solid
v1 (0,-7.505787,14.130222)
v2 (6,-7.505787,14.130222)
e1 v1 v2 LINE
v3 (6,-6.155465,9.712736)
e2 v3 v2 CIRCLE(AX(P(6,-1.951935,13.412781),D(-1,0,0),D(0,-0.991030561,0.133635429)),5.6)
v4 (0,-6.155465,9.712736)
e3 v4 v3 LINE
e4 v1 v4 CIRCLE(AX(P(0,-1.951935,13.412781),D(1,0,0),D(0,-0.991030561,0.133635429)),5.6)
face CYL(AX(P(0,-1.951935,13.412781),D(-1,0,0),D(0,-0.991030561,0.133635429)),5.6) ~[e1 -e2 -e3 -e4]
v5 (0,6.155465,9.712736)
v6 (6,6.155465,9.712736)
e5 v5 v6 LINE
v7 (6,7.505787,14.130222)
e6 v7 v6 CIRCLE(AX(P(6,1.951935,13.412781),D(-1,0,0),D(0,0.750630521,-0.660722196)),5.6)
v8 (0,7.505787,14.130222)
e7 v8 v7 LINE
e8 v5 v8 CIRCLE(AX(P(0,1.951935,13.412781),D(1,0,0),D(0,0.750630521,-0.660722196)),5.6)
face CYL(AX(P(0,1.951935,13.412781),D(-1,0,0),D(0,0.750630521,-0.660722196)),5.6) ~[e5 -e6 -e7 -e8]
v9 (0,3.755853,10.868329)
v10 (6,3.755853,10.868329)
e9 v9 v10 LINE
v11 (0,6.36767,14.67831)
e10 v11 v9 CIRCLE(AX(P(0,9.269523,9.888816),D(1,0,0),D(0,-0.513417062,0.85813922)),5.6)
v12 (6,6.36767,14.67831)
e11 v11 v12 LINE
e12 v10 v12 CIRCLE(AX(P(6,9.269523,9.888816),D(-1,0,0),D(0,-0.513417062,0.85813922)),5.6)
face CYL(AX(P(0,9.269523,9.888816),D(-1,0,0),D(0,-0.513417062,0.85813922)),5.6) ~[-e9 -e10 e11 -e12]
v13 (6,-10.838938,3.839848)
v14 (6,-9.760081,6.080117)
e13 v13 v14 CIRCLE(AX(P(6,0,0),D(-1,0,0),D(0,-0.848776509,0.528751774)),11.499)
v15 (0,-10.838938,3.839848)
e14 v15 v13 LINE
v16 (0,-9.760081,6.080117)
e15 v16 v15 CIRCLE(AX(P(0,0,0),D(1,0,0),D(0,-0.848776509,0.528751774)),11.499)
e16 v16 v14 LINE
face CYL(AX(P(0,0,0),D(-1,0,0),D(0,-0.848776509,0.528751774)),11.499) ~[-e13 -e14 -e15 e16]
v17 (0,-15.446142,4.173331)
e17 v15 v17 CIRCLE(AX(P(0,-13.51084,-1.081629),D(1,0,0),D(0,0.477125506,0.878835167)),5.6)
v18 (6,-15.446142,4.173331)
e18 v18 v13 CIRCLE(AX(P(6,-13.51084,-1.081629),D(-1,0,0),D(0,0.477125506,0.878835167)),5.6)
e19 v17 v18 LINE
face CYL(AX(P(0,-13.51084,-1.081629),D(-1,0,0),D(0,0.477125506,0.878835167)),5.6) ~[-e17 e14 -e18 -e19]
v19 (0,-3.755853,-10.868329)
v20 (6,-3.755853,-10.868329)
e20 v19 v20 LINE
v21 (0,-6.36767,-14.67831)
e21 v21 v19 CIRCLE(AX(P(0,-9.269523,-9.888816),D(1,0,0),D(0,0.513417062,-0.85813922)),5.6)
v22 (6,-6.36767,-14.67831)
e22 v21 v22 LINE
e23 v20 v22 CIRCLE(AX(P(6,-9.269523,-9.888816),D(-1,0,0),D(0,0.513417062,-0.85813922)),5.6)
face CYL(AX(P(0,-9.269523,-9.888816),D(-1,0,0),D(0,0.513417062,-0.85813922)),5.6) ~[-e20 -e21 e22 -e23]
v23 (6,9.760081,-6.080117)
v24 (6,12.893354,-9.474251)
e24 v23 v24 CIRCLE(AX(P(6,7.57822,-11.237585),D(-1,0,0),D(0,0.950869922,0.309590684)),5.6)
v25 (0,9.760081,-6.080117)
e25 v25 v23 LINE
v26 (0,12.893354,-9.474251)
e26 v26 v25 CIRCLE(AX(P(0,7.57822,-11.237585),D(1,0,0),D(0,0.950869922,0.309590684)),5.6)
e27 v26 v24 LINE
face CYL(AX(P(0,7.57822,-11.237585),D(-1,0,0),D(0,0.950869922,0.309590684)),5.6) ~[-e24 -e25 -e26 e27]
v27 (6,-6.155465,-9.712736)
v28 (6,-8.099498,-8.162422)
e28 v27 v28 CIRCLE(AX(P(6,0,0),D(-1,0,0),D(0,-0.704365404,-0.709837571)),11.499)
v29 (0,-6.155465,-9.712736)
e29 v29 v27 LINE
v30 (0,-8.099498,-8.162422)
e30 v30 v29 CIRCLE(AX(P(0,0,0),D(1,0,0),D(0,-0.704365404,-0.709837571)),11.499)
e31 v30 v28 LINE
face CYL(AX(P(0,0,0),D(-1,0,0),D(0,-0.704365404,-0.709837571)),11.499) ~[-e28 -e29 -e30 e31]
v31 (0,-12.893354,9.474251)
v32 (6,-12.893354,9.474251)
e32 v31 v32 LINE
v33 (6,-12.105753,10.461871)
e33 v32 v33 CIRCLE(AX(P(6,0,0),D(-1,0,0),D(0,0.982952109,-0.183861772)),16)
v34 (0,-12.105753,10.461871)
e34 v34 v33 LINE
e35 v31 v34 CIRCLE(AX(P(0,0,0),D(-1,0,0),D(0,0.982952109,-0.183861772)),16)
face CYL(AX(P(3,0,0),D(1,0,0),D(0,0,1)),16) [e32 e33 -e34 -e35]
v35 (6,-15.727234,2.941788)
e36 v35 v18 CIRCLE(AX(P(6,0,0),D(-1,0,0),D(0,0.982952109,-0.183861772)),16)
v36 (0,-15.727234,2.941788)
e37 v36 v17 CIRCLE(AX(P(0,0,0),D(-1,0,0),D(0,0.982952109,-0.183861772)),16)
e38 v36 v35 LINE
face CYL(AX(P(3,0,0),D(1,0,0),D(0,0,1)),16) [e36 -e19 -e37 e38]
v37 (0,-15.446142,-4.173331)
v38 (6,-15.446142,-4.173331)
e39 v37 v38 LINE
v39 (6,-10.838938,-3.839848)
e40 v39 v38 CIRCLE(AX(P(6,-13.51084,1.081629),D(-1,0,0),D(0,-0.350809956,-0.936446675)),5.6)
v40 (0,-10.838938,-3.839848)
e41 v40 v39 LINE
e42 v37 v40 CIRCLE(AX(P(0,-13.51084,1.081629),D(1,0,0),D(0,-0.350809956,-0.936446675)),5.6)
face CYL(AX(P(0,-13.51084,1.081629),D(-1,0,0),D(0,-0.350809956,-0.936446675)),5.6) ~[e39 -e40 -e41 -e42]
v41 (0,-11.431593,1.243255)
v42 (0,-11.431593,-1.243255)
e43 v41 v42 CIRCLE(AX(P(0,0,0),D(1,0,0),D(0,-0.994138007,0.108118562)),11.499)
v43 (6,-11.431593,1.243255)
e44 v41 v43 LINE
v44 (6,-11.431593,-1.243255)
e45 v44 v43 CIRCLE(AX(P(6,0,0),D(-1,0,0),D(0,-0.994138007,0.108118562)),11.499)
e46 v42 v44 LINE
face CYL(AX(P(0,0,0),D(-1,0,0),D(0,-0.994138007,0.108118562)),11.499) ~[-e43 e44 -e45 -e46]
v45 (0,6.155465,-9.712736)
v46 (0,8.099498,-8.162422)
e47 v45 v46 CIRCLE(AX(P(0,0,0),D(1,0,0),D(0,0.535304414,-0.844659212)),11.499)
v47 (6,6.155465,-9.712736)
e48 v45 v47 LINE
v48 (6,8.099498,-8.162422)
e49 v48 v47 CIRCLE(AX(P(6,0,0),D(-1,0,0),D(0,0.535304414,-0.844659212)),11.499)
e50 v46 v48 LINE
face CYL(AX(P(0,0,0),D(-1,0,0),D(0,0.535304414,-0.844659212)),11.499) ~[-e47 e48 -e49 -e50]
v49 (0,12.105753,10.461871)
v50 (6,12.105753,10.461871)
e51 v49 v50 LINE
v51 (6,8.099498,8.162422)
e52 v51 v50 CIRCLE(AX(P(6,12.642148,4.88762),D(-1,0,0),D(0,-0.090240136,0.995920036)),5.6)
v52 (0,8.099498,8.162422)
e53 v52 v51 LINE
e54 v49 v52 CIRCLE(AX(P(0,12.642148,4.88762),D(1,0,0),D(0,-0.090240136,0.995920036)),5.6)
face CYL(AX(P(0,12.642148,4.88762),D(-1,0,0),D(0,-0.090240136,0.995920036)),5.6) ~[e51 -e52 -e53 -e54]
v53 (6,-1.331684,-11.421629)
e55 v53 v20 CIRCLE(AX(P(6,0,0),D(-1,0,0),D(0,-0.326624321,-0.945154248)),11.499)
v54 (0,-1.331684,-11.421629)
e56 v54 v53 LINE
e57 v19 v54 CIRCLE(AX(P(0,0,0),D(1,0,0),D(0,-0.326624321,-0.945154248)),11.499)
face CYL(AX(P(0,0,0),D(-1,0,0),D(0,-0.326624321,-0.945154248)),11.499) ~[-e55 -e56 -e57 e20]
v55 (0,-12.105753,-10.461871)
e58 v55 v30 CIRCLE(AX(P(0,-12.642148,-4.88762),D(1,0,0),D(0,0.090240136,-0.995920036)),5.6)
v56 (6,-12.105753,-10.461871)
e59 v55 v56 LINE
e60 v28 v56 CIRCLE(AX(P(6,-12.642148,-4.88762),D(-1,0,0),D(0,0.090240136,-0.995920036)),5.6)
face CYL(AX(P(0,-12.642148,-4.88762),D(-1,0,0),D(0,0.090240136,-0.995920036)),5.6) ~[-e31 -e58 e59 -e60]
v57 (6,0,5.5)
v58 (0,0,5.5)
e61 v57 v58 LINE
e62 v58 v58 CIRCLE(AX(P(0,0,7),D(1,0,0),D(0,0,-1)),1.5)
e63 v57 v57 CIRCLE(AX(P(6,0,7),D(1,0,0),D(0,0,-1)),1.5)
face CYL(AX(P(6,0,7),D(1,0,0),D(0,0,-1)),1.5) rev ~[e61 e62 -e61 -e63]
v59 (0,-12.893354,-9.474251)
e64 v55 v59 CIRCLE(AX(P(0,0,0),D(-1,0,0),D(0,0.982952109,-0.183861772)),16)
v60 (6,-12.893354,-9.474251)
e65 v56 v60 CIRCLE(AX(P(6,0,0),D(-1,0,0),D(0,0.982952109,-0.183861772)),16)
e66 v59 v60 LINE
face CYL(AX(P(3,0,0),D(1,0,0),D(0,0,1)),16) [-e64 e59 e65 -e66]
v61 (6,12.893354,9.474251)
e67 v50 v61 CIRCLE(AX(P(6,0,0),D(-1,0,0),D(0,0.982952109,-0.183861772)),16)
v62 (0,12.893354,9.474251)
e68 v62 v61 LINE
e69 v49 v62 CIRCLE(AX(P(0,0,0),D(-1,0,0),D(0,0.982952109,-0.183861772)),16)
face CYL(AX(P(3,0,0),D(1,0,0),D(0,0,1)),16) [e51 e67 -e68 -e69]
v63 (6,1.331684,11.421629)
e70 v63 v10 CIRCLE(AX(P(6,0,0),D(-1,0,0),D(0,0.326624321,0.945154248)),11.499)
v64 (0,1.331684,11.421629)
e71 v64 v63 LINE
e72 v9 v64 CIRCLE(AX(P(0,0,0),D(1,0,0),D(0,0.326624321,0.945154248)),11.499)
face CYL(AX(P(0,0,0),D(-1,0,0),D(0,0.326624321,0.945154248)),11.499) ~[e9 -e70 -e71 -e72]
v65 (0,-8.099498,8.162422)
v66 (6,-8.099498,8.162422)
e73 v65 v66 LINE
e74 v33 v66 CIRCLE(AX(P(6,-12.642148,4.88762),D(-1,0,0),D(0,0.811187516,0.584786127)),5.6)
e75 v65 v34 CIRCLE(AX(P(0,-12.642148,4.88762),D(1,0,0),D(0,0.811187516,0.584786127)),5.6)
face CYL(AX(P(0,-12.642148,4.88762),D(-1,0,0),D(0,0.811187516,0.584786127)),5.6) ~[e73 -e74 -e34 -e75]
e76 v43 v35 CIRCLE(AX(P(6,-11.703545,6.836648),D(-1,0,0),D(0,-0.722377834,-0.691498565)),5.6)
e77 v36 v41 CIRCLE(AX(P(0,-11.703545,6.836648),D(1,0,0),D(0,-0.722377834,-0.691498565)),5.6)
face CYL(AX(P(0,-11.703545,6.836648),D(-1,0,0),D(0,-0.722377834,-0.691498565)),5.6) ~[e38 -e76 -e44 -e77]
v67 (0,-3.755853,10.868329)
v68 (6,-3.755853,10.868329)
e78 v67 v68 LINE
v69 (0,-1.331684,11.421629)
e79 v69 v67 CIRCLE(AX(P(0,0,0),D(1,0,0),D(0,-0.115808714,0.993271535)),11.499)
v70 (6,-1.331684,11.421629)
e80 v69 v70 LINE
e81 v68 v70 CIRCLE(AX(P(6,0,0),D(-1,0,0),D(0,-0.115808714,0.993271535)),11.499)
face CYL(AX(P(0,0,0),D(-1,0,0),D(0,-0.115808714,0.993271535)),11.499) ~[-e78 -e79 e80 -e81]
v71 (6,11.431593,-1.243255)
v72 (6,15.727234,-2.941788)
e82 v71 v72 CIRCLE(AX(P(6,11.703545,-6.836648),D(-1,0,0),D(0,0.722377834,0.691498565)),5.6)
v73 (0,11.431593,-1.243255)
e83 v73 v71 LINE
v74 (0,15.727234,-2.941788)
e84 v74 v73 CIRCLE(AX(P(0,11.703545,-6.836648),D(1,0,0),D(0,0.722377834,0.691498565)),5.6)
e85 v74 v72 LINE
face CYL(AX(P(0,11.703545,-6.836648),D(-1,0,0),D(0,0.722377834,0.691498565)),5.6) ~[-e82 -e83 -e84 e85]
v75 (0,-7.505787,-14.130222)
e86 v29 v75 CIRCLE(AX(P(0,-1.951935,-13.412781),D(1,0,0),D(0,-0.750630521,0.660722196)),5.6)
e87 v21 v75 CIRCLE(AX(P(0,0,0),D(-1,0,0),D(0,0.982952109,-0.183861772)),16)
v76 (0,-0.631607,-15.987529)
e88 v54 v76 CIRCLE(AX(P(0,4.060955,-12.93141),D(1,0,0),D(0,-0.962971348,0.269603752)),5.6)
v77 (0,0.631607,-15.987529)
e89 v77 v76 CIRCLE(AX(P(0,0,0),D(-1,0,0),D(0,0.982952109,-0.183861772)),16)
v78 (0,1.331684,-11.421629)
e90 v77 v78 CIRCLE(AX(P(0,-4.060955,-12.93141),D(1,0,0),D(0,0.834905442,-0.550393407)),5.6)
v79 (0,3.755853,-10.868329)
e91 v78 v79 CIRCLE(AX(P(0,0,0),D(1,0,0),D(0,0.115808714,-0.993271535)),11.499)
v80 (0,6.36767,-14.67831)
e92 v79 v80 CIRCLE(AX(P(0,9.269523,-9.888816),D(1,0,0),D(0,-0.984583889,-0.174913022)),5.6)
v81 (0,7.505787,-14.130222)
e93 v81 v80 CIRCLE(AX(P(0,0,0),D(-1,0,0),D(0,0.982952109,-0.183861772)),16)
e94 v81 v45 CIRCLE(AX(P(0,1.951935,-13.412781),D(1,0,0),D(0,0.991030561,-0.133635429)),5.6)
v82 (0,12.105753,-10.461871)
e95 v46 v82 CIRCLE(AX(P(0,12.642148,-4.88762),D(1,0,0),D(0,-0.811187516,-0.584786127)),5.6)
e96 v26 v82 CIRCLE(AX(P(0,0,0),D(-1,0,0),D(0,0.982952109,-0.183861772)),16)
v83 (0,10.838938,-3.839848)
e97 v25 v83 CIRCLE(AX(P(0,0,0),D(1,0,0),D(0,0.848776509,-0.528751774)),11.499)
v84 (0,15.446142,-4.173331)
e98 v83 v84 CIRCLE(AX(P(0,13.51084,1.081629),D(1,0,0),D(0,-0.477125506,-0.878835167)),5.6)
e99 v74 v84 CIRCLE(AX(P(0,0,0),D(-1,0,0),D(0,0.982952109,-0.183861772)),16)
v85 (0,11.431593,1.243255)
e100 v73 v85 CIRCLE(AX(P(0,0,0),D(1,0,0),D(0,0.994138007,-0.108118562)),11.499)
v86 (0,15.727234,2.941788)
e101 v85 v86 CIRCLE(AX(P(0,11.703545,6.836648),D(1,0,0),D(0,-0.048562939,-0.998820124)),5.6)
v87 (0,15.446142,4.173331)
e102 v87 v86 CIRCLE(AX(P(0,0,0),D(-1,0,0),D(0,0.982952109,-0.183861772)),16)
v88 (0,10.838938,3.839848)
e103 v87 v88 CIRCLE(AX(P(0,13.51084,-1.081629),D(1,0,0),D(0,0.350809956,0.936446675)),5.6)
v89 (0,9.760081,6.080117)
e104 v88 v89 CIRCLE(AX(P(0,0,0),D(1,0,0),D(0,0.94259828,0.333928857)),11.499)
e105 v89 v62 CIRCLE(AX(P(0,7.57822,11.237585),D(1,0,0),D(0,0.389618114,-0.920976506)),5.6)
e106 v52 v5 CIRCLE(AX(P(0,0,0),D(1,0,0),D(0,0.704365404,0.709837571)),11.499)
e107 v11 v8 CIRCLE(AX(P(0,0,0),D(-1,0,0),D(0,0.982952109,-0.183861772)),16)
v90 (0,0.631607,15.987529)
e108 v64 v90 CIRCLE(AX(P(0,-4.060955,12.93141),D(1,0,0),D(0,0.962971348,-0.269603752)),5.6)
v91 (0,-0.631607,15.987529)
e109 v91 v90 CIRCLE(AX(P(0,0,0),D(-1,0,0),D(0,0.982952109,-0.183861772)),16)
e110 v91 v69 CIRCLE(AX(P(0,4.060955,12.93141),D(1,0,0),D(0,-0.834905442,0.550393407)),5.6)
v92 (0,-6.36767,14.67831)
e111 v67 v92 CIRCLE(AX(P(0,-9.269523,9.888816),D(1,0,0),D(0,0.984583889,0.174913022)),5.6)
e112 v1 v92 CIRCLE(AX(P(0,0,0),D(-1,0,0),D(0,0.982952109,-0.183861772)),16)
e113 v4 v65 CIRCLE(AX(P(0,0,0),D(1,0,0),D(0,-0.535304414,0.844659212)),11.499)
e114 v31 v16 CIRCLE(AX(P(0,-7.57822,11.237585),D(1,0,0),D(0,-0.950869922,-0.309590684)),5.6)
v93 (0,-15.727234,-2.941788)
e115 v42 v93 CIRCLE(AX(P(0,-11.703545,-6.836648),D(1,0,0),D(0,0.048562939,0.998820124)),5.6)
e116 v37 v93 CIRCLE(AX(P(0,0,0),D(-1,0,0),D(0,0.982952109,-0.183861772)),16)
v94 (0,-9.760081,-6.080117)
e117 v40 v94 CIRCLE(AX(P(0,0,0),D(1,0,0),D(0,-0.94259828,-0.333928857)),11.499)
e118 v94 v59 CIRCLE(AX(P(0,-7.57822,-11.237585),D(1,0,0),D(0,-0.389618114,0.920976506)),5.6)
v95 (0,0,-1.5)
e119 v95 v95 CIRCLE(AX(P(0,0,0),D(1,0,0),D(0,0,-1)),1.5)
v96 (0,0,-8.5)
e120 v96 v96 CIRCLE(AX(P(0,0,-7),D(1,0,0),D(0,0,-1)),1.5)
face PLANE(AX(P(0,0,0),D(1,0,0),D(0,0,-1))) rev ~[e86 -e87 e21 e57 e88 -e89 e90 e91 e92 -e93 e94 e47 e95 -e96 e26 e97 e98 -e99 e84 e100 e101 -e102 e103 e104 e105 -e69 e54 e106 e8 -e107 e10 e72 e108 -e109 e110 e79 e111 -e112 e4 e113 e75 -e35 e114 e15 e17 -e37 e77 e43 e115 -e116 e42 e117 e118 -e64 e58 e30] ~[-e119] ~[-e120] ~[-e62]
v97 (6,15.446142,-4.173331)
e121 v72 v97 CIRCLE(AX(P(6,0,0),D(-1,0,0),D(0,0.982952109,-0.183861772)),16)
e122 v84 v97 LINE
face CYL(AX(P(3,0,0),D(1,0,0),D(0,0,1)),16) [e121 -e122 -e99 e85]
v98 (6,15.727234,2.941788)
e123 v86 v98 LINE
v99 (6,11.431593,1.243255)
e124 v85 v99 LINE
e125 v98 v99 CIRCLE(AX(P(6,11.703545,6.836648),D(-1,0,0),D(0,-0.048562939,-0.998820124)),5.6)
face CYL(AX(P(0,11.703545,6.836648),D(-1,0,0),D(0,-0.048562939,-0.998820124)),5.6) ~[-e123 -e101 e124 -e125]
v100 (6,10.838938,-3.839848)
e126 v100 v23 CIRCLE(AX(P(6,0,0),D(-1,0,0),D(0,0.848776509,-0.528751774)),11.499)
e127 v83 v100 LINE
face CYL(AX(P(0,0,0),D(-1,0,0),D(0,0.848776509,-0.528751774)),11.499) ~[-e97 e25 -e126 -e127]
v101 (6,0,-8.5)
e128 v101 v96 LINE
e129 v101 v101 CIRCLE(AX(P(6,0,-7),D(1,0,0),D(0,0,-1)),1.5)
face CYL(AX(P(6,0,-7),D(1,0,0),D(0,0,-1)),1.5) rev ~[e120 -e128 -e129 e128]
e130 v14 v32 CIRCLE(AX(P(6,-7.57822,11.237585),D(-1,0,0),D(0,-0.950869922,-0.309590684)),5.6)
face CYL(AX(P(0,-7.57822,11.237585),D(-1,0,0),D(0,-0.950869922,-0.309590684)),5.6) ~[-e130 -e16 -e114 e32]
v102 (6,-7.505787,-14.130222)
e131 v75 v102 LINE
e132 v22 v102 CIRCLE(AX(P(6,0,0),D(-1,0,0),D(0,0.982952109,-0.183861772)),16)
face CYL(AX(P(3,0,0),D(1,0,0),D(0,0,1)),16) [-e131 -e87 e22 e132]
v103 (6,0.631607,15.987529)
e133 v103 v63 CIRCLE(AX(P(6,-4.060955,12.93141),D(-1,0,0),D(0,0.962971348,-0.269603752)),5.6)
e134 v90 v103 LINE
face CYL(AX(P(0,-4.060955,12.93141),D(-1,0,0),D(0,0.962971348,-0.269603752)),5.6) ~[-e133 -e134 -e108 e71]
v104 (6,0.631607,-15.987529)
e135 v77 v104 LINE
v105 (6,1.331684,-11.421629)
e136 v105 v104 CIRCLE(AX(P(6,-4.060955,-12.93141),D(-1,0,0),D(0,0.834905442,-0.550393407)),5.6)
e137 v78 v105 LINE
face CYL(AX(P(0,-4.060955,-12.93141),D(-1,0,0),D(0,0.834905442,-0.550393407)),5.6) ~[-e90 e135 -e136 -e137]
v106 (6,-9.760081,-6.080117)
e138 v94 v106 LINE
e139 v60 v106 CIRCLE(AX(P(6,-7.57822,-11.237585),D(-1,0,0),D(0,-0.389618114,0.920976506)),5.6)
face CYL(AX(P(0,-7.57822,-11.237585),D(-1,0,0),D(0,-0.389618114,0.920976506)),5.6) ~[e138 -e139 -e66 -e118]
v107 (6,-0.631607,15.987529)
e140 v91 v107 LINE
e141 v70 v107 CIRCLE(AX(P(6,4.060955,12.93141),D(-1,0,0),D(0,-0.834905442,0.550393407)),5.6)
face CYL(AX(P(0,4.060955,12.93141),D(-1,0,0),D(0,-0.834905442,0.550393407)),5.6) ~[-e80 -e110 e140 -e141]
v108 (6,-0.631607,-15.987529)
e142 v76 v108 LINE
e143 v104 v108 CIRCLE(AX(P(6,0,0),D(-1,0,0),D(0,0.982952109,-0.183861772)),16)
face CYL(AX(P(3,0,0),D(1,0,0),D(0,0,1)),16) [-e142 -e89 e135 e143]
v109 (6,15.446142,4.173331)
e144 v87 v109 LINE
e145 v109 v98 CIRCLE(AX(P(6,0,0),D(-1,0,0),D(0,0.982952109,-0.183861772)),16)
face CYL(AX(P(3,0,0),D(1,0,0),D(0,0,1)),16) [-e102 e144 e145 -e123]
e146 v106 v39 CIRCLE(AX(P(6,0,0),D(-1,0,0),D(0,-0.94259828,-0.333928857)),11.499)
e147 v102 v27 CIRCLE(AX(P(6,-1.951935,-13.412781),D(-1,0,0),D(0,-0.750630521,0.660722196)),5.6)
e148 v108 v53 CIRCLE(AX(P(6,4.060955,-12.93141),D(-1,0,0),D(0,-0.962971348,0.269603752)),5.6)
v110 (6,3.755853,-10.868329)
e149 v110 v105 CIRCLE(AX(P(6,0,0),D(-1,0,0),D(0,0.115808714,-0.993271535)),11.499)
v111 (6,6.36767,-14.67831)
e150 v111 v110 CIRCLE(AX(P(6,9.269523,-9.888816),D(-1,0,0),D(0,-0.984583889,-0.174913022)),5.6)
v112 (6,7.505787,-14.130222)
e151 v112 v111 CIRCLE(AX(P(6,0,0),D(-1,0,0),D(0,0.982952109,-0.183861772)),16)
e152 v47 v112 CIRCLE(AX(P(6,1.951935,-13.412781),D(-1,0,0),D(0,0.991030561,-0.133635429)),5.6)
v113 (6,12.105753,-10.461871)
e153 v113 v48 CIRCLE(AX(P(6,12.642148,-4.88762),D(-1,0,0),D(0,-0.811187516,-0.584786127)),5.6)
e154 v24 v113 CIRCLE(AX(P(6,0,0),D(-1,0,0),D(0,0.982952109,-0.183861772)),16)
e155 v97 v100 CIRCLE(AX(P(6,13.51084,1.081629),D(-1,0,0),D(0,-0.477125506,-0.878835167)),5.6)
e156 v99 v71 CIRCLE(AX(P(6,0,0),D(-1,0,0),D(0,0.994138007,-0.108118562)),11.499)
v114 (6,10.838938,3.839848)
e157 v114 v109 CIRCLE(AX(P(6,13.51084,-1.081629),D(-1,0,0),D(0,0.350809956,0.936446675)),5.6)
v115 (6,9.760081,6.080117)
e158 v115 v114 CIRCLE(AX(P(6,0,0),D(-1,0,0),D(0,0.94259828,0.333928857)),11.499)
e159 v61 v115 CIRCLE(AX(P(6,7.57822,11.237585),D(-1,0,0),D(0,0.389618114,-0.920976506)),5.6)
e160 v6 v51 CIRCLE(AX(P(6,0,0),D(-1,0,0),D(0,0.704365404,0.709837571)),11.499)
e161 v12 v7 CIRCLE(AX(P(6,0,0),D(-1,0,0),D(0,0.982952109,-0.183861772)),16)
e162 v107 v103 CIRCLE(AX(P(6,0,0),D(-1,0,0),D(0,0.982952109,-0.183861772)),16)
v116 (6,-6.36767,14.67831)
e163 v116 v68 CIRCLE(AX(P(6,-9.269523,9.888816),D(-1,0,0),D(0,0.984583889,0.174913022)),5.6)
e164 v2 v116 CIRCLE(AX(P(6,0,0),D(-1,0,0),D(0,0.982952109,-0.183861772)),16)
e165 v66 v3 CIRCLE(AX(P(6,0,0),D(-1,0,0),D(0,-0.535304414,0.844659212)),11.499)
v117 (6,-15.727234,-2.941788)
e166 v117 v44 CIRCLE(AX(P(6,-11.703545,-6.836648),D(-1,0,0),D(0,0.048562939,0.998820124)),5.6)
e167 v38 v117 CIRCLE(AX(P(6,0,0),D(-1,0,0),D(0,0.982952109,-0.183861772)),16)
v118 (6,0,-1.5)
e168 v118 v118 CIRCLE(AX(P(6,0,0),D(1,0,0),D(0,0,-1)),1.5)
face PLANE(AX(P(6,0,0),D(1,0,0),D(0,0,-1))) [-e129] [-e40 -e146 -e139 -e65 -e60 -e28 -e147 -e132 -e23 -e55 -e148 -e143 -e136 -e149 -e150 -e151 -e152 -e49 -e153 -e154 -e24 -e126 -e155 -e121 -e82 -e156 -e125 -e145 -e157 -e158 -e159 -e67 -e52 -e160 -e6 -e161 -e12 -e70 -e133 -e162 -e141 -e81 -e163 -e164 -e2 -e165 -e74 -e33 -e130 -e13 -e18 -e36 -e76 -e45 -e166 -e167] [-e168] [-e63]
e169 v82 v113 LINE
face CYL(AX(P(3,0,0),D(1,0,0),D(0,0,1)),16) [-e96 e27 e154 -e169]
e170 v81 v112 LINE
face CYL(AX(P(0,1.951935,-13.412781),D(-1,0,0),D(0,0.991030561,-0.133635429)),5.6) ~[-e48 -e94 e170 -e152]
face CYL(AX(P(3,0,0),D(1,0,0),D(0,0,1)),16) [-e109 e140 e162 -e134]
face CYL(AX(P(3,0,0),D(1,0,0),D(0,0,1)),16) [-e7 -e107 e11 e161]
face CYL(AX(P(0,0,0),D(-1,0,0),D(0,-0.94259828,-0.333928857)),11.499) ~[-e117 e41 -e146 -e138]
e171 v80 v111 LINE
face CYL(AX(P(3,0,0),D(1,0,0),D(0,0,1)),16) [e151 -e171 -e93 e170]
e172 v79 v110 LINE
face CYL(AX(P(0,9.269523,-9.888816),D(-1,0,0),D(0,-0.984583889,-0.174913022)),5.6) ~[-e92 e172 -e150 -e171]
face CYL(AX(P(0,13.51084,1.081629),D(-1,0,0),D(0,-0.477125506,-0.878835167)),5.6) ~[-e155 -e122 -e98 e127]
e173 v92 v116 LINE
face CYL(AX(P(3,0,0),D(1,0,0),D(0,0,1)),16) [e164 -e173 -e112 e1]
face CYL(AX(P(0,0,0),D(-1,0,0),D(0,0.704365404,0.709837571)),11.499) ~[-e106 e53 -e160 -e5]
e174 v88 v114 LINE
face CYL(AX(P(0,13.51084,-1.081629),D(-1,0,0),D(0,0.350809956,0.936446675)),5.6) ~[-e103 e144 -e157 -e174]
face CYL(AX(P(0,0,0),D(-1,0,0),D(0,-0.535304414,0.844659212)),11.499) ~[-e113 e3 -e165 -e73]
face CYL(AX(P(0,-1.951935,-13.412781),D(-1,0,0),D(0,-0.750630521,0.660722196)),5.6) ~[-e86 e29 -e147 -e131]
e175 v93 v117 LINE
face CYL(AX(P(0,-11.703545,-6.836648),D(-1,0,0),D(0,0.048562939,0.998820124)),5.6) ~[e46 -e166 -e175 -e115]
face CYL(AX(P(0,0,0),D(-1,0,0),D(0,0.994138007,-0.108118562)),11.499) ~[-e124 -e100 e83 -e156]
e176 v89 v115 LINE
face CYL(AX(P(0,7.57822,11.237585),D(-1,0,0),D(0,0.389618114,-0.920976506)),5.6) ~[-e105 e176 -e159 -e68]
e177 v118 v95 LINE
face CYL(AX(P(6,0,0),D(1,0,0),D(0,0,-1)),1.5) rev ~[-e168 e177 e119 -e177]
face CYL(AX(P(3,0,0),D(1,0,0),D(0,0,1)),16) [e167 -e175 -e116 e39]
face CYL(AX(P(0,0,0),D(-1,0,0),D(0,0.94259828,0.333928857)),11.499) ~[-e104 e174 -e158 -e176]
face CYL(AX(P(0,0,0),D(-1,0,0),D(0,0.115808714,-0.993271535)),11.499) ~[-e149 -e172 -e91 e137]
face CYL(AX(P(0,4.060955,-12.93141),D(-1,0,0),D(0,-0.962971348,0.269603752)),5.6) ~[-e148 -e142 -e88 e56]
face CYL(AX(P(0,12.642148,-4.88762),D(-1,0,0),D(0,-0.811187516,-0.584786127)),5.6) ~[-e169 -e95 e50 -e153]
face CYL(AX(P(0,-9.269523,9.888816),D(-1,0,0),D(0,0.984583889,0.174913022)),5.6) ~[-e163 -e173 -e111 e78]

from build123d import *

# Parameters (mm, degrees)
BASPROSKE_W             = 6
BASPROSKE_H             = 16
TOOTHCUT_DEPTH          = 24.409399821
TEETHCUTS_COUNT         = 14
TEETHCUTS_ANGLE         = 334.285714286
BORSKE_R                = 4
BORE_DEPTH              = 50.0000508
CROQUIS1_R              = 4
CROQUIS1_R_2            = 1.5
SALIENTE_EXTRUIR1_DEPTH = 6
CROQUIS2_R              = 1.5
CORTAR_EXTRUIR1_DEPTH   = 6


with BuildPart() as part:
    # BasProSke → Base-Revolve (revolve)
    with BuildSketch(Plane(origin=(0, 0, 0), x_dir=(1, 0, 0), z_dir=(0, 1, 0)), mode=Mode.PRIVATE) as base_revolve_sk:
        with Locations((3, 8)):
            Rectangle(BASPROSKE_W, BASPROSKE_H)
    revolve(base_revolve_sk.sketch.rotate(Axis((-10, 0, 0), (1, 0, 0)), 180), axis=Axis((-10, 0, 0), (1, 0, 0)))

    # TooCutSke → ToothCut (cut, through all)
    with BuildSketch(Plane(origin=(0, 0, 0), x_dir=(0, 0, -1), z_dir=(1, 0, 0))):
        with BuildLine():
            ThreePointArc((1.24325535, 11.43159294), (0, 11.499), (-1.24325535, 11.43159294))
            ThreePointArc((-1.24325535, 11.43159294), (-1.634728087, 13.77719646), (-2.964256081, 15.748861262))
            ThreePointArc((-2.964256081, 15.748861262), (0, 16.0254), (2.964256081, 15.748861262))
            ThreePointArc((2.964256081, 15.748861262), (1.634728087, 13.77719646), (1.24325535, 11.43159294))
        make_face()
    toothcut = extrude(amount=TOOTHCUT_DEPTH, mode=Mode.SUBTRACT)

    # TeethCuts: ToothCut ×14 about axis
    teethcuts_axis = Axis((-10, 0, 0), (1, 0, 0))
    for i in range(1, TEETHCUTS_COUNT):
        add(toothcut.rotate(teethcuts_axis, i * TEETHCUTS_ANGLE / (TEETHCUTS_COUNT - 1)), mode=Mode.SUBTRACT)

    # BorSke → Bore (cut, symmetric)
    with BuildSketch(Plane(origin=(0, 0, 0), x_dir=(0, 0, -1), z_dir=(1, 0, 0))):
        with Locations(Location((0, 0, 0), (0, 0, 180))):
            Circle(BORSKE_R)
    extrude(amount=BORE_DEPTH, both=True, mode=Mode.SUBTRACT)

    # Croquis1 → Saliente-Extruir1 (add)
    with BuildSketch(Plane(origin=(6, 0, 0), x_dir=(0, 0, -1), z_dir=(1, 0, 0))):
        Circle(CROQUIS1_R)
        Circle(CROQUIS1_R_2, mode=Mode.SUBTRACT)
    extrude(amount=-SALIENTE_EXTRUIR1_DEPTH)

    # Croquis2 → Cortar-Extruir1 (cut)
    with BuildSketch(Plane(origin=(6, 0, 0), x_dir=(0, 0, -1), z_dir=(1, 0, 0))):
        with Locations((-7, 0)):
            Circle(CROQUIS2_R)
        with Locations((7, 0)):
            Circle(CROQUIS2_R)
    extrude(amount=-CORTAR_EXTRUIR1_DEPTH, mode=Mode.SUBTRACT)


solid = part.part
